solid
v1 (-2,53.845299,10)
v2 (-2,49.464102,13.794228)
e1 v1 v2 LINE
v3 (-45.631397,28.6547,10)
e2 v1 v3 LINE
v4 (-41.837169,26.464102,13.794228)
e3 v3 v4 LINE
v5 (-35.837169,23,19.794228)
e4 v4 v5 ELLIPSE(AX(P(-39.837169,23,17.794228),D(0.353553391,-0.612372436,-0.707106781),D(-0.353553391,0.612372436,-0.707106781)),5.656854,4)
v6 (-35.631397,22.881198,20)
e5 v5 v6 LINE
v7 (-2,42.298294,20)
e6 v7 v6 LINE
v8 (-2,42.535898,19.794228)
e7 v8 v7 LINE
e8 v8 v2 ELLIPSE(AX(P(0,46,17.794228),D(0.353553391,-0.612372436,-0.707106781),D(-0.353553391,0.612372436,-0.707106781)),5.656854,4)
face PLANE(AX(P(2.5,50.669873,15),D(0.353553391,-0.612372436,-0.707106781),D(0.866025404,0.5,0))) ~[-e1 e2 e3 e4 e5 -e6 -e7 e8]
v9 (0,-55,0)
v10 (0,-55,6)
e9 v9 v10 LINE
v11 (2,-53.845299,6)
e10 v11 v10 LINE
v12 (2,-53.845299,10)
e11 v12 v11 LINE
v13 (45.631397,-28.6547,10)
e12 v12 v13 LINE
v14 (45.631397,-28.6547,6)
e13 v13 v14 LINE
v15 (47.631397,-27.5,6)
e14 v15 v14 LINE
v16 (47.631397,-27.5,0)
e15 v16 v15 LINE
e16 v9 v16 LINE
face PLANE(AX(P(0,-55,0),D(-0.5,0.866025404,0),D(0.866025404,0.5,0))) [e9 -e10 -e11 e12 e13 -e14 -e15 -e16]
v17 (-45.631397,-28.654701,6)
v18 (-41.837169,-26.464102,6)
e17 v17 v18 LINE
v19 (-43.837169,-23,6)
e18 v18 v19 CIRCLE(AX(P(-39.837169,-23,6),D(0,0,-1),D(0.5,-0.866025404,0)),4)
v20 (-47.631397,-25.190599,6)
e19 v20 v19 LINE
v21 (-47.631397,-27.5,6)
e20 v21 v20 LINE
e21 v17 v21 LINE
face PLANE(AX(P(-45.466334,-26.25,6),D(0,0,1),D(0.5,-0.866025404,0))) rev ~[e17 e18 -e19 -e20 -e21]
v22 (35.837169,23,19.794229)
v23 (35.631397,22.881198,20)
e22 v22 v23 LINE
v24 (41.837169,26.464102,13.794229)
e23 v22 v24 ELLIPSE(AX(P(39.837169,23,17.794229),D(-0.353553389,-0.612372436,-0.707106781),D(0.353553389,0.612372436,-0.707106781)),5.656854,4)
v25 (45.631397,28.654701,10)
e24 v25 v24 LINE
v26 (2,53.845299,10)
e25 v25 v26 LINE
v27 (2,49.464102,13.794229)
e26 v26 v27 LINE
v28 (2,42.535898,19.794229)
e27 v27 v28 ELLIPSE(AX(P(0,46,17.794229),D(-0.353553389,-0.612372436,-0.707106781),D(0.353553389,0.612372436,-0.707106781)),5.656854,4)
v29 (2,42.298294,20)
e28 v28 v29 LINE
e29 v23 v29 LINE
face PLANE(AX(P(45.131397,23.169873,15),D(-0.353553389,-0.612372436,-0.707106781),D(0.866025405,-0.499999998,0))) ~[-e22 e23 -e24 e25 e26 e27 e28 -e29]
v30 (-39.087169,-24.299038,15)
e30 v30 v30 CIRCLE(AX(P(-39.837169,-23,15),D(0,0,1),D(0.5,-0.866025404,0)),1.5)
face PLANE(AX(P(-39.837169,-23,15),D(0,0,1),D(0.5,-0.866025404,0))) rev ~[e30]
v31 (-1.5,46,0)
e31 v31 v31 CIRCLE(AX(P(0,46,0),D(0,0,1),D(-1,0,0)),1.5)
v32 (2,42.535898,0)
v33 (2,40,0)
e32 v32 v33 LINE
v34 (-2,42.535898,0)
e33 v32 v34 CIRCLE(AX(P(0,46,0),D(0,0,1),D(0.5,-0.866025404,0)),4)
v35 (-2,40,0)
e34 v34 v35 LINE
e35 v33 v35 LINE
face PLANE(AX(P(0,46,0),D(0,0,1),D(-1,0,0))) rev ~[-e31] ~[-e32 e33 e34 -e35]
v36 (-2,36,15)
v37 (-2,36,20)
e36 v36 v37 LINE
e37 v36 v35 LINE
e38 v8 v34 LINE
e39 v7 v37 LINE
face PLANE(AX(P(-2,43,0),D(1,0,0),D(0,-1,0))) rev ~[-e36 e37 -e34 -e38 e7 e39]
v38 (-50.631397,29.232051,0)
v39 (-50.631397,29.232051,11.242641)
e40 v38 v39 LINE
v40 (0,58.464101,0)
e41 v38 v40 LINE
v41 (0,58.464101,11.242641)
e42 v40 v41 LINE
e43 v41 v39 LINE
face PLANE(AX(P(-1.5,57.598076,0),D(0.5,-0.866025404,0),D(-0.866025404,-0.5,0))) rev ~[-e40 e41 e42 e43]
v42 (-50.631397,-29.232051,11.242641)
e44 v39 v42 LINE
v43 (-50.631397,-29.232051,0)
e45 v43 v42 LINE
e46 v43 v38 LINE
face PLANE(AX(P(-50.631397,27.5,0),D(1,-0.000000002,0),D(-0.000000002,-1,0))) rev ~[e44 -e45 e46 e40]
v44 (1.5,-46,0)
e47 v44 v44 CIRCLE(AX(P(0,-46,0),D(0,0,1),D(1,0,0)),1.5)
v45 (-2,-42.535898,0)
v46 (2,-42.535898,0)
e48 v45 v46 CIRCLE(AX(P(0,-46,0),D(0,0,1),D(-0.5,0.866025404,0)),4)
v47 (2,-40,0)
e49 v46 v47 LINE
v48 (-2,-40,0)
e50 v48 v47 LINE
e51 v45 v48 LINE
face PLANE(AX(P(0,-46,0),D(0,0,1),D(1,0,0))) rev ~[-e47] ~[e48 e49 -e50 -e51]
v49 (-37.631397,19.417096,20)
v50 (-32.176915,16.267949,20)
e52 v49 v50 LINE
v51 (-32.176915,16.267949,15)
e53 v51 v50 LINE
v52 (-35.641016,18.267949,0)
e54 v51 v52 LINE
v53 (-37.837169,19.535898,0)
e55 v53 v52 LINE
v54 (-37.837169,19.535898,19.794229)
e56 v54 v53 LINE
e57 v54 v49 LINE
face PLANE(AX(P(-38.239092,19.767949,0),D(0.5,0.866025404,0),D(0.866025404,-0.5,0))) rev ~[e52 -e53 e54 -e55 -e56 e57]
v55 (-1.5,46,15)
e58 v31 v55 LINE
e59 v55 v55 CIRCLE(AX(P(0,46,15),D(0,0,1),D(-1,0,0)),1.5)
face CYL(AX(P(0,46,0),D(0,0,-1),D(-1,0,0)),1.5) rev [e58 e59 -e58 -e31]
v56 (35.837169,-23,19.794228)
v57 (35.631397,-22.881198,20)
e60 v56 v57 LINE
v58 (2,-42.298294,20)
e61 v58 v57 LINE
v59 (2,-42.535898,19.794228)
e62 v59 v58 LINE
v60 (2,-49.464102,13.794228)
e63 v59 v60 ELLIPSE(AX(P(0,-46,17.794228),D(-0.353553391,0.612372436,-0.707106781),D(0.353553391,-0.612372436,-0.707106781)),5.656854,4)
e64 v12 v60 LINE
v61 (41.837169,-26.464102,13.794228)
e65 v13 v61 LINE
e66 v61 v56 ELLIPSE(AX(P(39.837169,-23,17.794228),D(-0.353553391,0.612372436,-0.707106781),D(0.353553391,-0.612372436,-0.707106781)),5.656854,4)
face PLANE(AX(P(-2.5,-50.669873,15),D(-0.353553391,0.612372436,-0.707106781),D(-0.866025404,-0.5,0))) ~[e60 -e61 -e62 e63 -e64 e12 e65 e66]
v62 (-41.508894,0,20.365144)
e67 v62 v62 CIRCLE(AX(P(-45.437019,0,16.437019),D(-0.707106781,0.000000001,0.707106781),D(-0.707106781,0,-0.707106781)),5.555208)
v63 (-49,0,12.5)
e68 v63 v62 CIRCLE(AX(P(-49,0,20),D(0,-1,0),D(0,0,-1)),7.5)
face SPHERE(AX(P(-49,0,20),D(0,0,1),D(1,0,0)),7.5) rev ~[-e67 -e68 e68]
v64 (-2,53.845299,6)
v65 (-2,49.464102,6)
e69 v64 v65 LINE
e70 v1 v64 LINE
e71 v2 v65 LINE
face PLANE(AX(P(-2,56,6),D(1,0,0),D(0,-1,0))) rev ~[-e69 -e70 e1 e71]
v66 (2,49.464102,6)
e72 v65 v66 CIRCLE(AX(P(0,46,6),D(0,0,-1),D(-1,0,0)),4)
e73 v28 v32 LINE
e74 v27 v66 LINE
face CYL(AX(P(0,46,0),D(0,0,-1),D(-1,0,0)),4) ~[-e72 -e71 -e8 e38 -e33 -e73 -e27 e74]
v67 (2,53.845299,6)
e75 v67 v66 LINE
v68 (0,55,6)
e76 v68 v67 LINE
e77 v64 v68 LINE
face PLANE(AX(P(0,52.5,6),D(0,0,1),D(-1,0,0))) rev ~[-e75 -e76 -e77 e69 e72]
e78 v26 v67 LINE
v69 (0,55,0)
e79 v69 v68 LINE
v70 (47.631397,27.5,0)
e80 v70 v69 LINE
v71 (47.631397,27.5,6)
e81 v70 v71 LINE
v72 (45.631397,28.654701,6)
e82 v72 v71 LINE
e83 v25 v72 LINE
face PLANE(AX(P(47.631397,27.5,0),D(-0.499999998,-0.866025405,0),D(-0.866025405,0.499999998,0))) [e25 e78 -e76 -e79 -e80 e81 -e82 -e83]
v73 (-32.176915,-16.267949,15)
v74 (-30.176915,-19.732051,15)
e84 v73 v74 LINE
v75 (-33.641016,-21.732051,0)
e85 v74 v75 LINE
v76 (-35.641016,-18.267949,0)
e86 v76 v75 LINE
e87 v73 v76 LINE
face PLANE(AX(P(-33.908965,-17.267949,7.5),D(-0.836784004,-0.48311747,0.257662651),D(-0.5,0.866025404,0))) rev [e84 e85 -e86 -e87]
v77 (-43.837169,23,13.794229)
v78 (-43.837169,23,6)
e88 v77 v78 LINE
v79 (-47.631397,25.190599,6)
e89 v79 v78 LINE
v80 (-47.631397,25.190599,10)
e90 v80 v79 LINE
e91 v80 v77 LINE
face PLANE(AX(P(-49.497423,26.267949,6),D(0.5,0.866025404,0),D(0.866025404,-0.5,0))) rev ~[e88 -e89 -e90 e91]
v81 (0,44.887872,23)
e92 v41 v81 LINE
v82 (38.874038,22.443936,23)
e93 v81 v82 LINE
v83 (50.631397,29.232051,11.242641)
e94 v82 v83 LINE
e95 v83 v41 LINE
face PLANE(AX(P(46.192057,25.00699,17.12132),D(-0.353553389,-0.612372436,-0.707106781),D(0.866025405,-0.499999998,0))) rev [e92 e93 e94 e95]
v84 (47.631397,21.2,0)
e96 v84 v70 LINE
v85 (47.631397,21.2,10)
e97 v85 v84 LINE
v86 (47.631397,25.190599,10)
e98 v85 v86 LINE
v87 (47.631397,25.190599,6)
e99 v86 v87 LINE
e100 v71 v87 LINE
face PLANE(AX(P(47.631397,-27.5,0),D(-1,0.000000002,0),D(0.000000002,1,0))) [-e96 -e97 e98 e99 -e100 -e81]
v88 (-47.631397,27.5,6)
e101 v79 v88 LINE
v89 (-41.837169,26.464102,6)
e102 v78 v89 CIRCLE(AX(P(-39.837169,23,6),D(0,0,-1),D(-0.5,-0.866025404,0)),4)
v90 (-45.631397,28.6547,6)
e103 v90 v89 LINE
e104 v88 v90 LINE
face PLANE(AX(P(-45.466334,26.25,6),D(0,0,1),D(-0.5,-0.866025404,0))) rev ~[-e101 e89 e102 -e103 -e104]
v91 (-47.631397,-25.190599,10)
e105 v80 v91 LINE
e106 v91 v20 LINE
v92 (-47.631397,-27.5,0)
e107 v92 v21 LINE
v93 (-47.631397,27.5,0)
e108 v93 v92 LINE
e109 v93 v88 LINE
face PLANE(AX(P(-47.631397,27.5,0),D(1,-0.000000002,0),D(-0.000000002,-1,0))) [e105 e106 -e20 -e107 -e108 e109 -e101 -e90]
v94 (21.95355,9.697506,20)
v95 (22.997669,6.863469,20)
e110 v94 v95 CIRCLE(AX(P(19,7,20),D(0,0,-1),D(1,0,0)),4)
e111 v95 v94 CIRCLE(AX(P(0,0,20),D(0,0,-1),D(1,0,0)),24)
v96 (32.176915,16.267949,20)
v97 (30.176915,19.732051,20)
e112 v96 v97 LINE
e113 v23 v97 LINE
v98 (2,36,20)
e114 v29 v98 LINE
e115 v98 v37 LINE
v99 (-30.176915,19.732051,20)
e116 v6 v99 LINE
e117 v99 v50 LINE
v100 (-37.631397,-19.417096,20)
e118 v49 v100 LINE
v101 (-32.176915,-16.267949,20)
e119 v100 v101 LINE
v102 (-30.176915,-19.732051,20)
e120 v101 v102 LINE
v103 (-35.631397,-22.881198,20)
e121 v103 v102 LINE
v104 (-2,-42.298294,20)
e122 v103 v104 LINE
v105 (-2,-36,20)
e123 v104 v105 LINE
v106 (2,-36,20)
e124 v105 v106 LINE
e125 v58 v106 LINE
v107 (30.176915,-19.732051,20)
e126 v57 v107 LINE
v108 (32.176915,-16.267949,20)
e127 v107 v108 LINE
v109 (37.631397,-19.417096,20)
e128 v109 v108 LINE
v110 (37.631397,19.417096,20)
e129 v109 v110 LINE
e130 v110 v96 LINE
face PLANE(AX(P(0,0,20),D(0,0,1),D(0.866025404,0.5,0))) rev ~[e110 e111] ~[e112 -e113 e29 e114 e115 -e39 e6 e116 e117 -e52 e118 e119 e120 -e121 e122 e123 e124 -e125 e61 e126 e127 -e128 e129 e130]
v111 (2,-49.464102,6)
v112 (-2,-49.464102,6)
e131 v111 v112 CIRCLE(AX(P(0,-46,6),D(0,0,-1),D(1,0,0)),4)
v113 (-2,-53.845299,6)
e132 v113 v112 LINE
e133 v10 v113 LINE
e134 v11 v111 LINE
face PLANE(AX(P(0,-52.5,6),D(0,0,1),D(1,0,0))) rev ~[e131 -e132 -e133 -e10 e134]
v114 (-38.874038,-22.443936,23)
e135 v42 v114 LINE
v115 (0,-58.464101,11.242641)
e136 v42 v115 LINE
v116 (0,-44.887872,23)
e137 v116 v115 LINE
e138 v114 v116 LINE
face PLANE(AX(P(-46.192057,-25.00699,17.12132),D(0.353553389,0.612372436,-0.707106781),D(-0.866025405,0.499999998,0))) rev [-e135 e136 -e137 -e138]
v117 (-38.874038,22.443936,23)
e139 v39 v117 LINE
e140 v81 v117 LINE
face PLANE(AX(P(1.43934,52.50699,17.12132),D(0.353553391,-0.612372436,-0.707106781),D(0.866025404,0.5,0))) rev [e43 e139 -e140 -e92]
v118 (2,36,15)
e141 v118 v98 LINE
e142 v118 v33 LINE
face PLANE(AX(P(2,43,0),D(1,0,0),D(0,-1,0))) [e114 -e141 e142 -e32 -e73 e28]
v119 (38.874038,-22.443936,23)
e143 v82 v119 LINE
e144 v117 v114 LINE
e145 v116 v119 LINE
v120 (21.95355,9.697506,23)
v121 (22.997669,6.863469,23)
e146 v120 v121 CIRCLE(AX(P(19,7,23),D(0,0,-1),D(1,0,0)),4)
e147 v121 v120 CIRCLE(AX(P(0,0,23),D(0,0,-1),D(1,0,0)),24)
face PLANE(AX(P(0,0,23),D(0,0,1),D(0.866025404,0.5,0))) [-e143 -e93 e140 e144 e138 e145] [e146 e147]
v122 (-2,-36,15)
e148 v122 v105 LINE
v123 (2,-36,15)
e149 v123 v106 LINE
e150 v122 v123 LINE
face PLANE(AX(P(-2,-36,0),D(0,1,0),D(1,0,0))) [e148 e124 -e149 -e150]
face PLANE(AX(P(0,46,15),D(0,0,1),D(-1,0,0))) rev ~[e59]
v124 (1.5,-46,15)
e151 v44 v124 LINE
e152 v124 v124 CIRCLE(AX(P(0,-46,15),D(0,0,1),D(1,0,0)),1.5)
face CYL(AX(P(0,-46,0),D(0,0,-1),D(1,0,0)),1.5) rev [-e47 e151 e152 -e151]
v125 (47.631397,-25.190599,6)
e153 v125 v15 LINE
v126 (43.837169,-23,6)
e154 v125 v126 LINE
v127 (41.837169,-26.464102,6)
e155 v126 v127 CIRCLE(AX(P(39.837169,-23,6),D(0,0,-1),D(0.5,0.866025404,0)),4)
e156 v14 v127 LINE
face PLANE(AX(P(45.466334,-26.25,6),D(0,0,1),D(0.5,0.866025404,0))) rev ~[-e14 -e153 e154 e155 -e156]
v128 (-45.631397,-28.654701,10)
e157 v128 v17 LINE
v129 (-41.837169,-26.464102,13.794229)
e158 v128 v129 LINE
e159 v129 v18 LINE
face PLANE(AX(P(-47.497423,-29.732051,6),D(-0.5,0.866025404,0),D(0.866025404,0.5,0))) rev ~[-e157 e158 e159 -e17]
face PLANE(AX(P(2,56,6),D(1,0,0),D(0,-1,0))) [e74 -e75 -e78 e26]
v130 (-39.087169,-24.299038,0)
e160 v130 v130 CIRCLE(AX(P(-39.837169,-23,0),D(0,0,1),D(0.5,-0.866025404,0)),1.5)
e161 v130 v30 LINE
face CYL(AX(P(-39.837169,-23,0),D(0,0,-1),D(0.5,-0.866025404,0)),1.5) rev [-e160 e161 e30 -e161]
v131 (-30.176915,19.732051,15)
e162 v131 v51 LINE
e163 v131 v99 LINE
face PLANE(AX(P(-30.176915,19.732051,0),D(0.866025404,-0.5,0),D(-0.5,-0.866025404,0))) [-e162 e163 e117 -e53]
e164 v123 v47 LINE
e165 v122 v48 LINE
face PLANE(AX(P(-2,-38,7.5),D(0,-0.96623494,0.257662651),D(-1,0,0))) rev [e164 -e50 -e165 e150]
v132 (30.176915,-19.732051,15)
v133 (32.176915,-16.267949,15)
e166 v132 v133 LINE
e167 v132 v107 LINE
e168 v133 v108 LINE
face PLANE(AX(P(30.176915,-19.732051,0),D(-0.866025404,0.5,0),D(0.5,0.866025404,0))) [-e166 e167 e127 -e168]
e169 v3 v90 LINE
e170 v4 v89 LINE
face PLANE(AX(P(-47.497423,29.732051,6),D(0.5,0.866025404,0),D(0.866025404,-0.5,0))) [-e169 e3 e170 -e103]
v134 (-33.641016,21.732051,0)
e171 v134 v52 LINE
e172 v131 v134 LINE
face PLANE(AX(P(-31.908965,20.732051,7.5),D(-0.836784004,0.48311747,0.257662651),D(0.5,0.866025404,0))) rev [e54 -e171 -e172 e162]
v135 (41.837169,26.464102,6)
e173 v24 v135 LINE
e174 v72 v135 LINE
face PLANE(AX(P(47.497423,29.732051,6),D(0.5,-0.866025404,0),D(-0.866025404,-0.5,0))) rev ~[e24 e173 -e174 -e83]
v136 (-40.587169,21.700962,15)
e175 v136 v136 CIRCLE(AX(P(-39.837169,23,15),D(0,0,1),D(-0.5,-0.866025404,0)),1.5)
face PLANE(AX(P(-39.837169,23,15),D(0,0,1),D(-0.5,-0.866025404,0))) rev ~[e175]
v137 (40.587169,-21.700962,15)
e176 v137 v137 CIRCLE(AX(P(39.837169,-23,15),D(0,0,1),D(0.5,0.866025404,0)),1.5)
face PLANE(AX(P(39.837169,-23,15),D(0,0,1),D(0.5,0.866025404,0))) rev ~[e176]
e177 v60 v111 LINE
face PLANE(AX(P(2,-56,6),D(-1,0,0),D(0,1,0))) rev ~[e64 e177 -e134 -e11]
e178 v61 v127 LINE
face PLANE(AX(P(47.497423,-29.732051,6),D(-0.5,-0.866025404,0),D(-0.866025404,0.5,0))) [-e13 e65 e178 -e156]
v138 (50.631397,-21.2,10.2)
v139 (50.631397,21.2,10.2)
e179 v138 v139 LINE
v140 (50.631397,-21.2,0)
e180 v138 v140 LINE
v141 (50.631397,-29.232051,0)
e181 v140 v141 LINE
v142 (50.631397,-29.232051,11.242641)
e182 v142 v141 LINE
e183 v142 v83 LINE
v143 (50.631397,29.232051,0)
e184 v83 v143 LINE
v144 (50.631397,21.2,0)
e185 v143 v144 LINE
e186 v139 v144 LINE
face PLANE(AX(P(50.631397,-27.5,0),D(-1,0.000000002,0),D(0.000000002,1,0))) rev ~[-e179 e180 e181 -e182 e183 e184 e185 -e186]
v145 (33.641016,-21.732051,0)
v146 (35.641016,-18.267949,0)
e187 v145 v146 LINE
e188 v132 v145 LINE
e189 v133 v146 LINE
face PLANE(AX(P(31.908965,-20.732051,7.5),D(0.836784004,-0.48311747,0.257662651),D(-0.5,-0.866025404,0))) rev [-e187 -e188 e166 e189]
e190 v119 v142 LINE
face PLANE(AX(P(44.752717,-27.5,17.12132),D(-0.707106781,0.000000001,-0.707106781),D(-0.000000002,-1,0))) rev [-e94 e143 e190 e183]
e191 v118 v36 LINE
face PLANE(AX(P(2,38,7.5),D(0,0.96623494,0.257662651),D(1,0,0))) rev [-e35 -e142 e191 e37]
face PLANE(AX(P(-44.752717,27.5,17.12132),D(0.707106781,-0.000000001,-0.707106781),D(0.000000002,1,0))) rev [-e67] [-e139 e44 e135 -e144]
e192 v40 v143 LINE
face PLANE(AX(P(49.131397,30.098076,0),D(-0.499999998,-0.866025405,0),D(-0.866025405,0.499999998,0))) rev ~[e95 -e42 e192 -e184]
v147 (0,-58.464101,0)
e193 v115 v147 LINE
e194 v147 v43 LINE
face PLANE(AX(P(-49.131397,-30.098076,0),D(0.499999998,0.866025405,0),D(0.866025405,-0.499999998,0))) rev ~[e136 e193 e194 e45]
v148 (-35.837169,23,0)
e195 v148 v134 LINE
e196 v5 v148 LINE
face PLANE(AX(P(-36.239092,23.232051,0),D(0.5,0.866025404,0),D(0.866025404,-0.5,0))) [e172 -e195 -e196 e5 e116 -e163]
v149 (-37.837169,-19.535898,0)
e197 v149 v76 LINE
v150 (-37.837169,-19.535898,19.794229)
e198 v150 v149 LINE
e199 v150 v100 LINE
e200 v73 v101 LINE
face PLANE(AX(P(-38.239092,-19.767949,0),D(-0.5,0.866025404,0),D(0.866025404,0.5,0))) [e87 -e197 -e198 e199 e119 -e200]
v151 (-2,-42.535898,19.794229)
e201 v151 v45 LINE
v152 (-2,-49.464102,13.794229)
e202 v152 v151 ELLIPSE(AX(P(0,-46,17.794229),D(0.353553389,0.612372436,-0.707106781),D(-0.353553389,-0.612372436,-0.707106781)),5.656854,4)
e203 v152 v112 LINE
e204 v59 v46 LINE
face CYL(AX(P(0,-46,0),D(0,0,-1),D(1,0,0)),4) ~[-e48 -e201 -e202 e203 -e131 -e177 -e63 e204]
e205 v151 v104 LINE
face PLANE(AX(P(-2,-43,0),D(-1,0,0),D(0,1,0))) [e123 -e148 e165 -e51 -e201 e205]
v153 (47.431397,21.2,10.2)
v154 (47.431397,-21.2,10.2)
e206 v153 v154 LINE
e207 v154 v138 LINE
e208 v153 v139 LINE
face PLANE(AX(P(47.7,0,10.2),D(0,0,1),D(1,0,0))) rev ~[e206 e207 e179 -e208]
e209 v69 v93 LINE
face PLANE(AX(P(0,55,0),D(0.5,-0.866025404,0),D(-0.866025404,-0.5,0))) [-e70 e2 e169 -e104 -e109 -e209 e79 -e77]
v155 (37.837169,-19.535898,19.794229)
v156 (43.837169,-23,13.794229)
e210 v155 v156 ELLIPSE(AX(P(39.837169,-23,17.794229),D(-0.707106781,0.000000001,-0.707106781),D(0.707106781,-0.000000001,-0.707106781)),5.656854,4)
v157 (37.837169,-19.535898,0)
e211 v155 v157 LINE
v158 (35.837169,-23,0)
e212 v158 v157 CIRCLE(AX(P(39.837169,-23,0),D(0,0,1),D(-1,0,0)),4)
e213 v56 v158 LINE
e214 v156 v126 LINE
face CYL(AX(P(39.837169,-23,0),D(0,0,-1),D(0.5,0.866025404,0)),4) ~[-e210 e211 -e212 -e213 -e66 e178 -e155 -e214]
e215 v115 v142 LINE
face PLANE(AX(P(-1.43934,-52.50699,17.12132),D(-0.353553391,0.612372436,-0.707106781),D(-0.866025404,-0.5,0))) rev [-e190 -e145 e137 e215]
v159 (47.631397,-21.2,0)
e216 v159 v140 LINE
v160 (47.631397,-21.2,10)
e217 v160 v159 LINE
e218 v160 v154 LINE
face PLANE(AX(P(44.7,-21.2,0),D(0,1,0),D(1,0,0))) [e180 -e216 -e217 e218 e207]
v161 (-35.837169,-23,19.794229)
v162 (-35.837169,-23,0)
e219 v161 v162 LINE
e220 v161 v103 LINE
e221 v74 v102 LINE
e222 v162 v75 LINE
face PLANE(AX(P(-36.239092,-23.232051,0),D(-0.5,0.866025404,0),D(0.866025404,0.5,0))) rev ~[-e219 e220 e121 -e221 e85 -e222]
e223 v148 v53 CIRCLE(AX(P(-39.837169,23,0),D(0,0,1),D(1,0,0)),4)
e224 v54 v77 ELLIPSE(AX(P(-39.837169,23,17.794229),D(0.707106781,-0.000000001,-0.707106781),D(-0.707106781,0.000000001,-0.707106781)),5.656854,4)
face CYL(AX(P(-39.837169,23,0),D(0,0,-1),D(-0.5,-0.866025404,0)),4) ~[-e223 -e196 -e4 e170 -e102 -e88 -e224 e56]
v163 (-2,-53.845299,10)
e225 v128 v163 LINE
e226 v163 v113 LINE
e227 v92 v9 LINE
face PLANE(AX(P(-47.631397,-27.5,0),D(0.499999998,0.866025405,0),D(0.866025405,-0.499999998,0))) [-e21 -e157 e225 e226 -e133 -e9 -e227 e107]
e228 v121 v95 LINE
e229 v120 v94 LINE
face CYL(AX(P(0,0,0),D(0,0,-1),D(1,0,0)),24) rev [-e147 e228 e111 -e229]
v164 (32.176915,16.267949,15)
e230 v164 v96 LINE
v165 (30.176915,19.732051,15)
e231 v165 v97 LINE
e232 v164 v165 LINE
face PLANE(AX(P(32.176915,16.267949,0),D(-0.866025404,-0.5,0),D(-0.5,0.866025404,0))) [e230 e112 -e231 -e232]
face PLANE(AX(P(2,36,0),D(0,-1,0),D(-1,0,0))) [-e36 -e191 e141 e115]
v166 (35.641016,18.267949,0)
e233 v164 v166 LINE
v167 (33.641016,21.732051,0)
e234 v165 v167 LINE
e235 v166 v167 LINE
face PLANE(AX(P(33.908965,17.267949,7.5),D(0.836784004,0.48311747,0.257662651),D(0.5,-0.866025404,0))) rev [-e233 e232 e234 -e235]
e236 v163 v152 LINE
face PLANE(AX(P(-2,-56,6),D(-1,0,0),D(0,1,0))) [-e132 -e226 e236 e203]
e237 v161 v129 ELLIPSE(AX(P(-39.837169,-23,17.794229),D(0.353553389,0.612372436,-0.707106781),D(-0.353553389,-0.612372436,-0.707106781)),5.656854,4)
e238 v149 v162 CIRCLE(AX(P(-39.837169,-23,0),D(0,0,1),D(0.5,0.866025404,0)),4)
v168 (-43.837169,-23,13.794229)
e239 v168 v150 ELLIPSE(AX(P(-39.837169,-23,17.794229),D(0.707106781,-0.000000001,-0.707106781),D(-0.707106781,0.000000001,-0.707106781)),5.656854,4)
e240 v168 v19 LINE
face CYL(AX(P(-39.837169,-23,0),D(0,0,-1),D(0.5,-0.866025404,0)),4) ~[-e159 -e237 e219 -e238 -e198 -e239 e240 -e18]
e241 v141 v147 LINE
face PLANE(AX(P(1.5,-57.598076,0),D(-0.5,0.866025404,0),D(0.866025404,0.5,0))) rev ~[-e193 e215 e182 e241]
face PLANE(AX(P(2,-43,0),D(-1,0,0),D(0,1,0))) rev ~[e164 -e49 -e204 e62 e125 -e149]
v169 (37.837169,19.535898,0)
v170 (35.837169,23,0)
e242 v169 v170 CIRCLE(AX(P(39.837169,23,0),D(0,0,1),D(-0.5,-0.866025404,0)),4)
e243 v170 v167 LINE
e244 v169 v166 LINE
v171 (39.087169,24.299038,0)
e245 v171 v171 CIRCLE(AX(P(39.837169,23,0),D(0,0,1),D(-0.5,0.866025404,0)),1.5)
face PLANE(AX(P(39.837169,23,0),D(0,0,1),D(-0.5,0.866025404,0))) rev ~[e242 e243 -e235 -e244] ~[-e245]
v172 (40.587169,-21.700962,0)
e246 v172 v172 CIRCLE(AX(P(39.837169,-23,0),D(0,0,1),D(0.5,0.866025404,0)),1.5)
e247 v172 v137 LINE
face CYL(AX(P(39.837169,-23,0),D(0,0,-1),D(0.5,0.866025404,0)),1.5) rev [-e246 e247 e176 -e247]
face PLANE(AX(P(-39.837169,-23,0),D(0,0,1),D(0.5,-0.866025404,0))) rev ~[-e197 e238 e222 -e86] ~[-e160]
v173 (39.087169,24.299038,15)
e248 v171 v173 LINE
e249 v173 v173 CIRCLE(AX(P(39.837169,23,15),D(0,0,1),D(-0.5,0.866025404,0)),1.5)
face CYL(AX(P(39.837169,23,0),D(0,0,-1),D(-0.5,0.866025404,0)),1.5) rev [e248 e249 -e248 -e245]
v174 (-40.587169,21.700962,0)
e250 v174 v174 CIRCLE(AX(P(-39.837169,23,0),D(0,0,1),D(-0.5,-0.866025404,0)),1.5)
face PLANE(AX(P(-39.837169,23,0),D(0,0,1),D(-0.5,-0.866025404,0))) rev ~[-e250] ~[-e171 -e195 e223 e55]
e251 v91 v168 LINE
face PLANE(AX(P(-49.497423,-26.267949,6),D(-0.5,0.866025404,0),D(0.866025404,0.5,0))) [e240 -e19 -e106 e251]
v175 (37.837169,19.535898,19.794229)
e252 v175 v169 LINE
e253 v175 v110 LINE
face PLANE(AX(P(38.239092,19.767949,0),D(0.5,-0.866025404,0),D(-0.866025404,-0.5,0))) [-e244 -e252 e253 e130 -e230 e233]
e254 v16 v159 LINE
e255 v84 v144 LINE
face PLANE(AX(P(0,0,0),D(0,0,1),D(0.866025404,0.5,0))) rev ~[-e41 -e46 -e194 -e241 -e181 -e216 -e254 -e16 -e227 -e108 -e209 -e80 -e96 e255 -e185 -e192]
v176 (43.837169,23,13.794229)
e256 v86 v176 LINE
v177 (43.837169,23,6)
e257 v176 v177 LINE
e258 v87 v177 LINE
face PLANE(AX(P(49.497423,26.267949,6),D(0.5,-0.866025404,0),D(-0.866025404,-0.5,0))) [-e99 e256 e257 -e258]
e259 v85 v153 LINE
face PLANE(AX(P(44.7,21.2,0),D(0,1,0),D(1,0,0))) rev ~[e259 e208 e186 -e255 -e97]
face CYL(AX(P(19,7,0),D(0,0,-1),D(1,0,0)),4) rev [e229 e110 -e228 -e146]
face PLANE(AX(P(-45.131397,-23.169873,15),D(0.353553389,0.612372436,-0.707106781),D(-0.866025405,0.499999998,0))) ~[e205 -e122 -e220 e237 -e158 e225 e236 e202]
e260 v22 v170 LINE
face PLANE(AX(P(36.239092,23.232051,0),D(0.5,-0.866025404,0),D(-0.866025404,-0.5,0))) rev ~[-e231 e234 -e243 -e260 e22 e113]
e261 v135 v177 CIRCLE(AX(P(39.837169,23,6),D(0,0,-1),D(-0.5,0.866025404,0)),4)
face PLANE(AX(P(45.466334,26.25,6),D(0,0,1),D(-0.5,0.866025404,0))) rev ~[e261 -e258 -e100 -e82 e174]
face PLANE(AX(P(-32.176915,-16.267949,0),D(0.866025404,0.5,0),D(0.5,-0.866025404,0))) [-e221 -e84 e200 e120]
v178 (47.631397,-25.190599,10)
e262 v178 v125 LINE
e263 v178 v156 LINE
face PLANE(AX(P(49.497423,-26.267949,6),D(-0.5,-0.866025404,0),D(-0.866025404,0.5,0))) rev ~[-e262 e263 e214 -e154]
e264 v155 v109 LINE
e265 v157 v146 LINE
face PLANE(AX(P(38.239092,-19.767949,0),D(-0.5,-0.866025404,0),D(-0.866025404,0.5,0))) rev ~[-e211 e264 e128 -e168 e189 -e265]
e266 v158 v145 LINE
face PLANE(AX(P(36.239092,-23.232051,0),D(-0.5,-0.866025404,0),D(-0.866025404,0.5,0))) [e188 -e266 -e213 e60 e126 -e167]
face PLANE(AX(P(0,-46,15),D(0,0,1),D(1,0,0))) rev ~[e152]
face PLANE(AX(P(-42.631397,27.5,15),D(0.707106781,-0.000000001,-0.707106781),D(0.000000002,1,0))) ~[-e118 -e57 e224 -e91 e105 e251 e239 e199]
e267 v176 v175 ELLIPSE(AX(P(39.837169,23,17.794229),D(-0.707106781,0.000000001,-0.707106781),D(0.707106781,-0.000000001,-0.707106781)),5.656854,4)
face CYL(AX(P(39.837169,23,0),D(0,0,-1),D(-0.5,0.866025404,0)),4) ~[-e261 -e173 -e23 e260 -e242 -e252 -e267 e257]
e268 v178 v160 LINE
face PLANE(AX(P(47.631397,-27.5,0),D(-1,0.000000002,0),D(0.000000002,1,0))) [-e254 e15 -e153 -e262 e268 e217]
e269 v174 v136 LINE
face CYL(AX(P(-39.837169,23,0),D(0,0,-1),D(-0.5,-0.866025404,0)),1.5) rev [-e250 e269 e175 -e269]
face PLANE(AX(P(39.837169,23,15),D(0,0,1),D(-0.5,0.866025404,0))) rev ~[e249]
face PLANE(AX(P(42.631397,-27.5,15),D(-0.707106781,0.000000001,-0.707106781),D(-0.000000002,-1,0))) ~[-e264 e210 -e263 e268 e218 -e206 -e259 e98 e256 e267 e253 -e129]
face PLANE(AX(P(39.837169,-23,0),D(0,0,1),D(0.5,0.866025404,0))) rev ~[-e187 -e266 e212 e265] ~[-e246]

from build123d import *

# Parameters (mm, degrees)
BOX038_W                 = 6
BOX038_H                 = 42.4
BOX038_DEPTH             = 10.2
CYLINDER053_R            = 2
CYLINDER053_DEPTH        = 42
CYLINDER053_ROLL_ANGLE   = 90
PAD007_DEPTH             = 37
BODY008_PITCH_ANGLE      = -45
CYLINDER051_R            = 4
CYLINDER051_DEPTH        = 44
CYLINDER052_R            = 24
CYLINDER052_DEPTH        = 44
PAD006_DEPTH             = 5.62
PRISM012_DEPTH           = 20
PRISM012_PLACEMENT_ANGLE = 30
CHAMFER008_SIZE          = 10
THICKNESS001_T           = 3
CYLINDER055_R            = 1.5
CYLINDER055_DEPTH        = 15
BOX040_W                 = 4
BOX040_H                 = 7
BOX040_DEPTH             = 22
CHAMFER009_SIZE2         = 4
CHAMFER009_SIZE          = 15
BOX039_W                 = 12
BOX039_H                 = 10
BOX039_DEPTH             = 14
BOX039_ROLL_ANGLE        = -45
CYLINDER054_R            = 4
CYLINDER054_DEPTH        = 21
BOX041_W                 = 4
BOX041_H                 = 7
BOX041_DEPTH             = 10
CHAMFER010_SIZE          = 5
ARRAY003_COUNT           = 6


with BuildPart() as esfera:
    # Sphere → Sphere (revolve)
    with BuildSketch(Plane(origin=(-49, 0, 20), x_dir=(1, 0, 0), z_dir=(0, -1, 0))):
        with BuildLine():
            ThreePointArc((0, -7.5), (7.5, 0), (0, 7.5))
            Line((0, 7.5), (0, -7.5))
        make_face()
    revolve(axis=Axis((-49, 0, 20), (0, 0, 1)))


with BuildPart() as cubo034:
    # Box038 → Box038 (new body)
    with BuildSketch(Plane(origin=(44.7, -21.2, 0), x_dir=(1, 0, 0), z_dir=(0, 0, 1))):
        with Locations((3, 21.2)):
            Rectangle(BOX038_W, BOX038_H)
    extrude(amount=BOX038_DEPTH)


with BuildPart() as cylinder053:
    # Cylinder053 → Cylinder053 (new body)
    with BuildSketch(Plane.XY):
        Circle(CYLINDER053_R)
    extrude(amount=CYLINDER053_DEPTH)


with BuildPart() as cylinder053_1:
    # Cylinder053 roll: moved
    add(cylinder053.part.rotate(Axis((0, 0, 0), (1, 0, 0)), CYLINDER053_ROLL_ANGLE))


with BuildPart() as cylinder053_2:
    # Cylinder053 placement: moved
    add(cylinder053_1.part.moved(Location((-39, 21, 33))))


with BuildPart() as body008:
    # Sketch008 → Pad007 (new body)
    with BuildSketch(Plane.XY):
        Polygon((-40.876069, 10), (-49.536323, 5), (-49.536323, -5), (-40.876069, -10), (-32.215815, -5), (-32.215815, 5), align=None)
    extrude(amount=PAD007_DEPTH)


with BuildPart() as body008_1:
    # Body008 pitch: moved
    add(body008.part.rotate(Axis((0, 0, 0), (0, 1, 0)), BODY008_PITCH_ANGLE))


with BuildPart() as body008_2:
    # Body008 placement: moved
    add(body008_1.part.moved(Location((0, 0, 103))))


with BuildPart() as agujero_led_builtin001:
    # Cylinder051 → Cylinder051 (new body)
    with BuildSketch(Plane(origin=(19, 7, 0), x_dir=(1, 0, 0), z_dir=(0, 0, 1))):
        Circle(CYLINDER051_R)
    extrude(amount=CYLINDER051_DEPTH)


with BuildPart() as fusion019:
    # Cylinder052 → Cylinder052 (new body)
    with BuildSketch(Plane.XY):
        Circle(CYLINDER052_R)
    extrude(amount=CYLINDER052_DEPTH)

    # Fusion019: union agujero led builtin001
    add(agujero_led_builtin001.part)


with BuildPart() as agujero_microusb002:
    # Sketch007 → Pad006 (new body)
    with BuildSketch(Plane.YZ):
        Polygon((-3, 0.536587), (3, 0.536587), (4.5, -3.263413), (-4.5, -3.263413), align=None)
    extrude(amount=PAD006_DEPTH)


with BuildPart() as agujero_microusb002_1:
    # Body007 placement: moved
    add(agujero_microusb002.part.moved(Location((45.85, 0, 5))))


with BuildPart() as superior001:
    # Prism012 → Prism012 (new body)
    with BuildSketch(Plane.XY):
        Polygon((55, 0), (27.5, 47.631397), (-27.5, 47.631397), (-55, 0), (-27.5, -47.631397), (27.5, -47.631397), align=None)
    extrude(amount=PRISM012_DEPTH)


with BuildPart() as superior001_1:
    # Prism012 placement: moved
    add(superior001.part.rotate(Axis((0, 0, 0), (0, 0, 1)), PRISM012_PLACEMENT_ANGLE))

    # Chamfer008
    chamfer008_edges = [superior001_1.edges().sort_by_distance(p)[0] for p in [
        (23.815699, 41.25, 20),
        (-23.815699, 41.25, 20),
        (-47.631397, 0, 20),
        (-23.815699, -41.25, 20),
        (23.815699, -41.25, 20),
        (47.631397, 0, 20),
    ]]
    chamfer(chamfer008_edges, length=CHAMFER008_SIZE)

    # Thickness001
    thickness001_openings = [superior001_1.faces().sort_by_distance(p)[0] for p in [
        (0, 0, 0),
    ]]
    offset(amount=THICKNESS001_T, openings=thickness001_openings, kind=Kind.INTERSECTION)

    # Cut022: cut agujero microusb002
    add(agujero_microusb002_1.part, mode=Mode.SUBTRACT)

    # Cut023: cut Fusion019
    add(fusion019.part, mode=Mode.SUBTRACT)

    # Cut024: cut Body008
    add(body008_2.part, mode=Mode.SUBTRACT)

    # Cut025: cut Cylinder053
    add(cylinder053_2.part, mode=Mode.SUBTRACT)

    # Cut026: cut Cubo034
    add(cubo034.part, mode=Mode.SUBTRACT)


with BuildPart() as cilindro028:
    # Cylinder055 → Cylinder055 (new body)
    with BuildSketch(Plane(origin=(0, -46, 0), x_dir=(1, 0, 0), z_dir=(0, 0, 1))):
        Circle(CYLINDER055_R)
    extrude(amount=CYLINDER055_DEPTH)


with BuildPart() as chamfer009:
    # Box040 → Box040 (new body)
    with BuildSketch(Plane(origin=(-2, -43, 0), x_dir=(1, 0, 0), z_dir=(0, 0, 1))):
        with Locations((2, 3.5)):
            Rectangle(BOX040_W, BOX040_H)
    extrude(amount=BOX040_DEPTH)

    # Chamfer009
    chamfer009_edges = [chamfer009.edges().sort_by_distance(p)[0] for p in [
        (0, -36, 0),
    ]]
    chamfer009_side = chamfer009.faces().sort_by_distance((0, -36, 11))[0]
    chamfer(chamfer009_edges, length=CHAMFER009_SIZE, length2=CHAMFER009_SIZE2, reference=chamfer009_side)


with BuildPart() as cubo035:
    # Box039 → Box039 (new body)
    with BuildSketch(Plane.XY):
        with Locations((6, 5)):
            Rectangle(BOX039_W, BOX039_H)
    extrude(amount=BOX039_DEPTH)


with BuildPart() as cubo035_1:
    # Box039 roll: moved
    add(cubo035.part.rotate(Axis((0, 0, 0), (1, 0, 0)), BOX039_ROLL_ANGLE))


with BuildPart() as cubo035_2:
    # Box039 placement: moved
    add(cubo035_1.part.moved(Location((-7, -59, 20))))


with BuildPart() as cut027:
    # Cylinder054 → Cylinder054 (new body)
    with BuildSketch(Plane(origin=(0, -46, 0), x_dir=(1, 0, 0), z_dir=(0, 0, 1))):
        Circle(CYLINDER054_R)
    extrude(amount=CYLINDER054_DEPTH)

    # Cut027: cut Cubo035
    add(cubo035_2.part, mode=Mode.SUBTRACT)


with BuildPart() as superior_final:
    # Box041 → Box041 (new body)
    with BuildSketch(Plane(origin=(-2, -56, 6), x_dir=(1, 0, 0), z_dir=(0, 0, 1))):
        with Locations((2, 3.5)):
            Rectangle(BOX041_W, BOX041_H)
    extrude(amount=BOX041_DEPTH)

    # Chamfer010
    chamfer010_edges = [superior_final.edges().sort_by_distance(p)[0] for p in [
        (0, -56, 16),
    ]]
    chamfer(chamfer010_edges, length=CHAMFER010_SIZE)

    # Fusion020: union Chamfer009, Cut027
    add(chamfer009.part)
    add(cut027.part)

    # Cut028: cut Cilindro028
    add(cilindro028.part, mode=Mode.SUBTRACT)

    # Array003: superior final ×6 about axis
    array003_axis = Axis((0, 0, 0), (0, 0, 1))


with BuildPart() as superior_final_1:
    add(superior_final.part)
    for i in range(1, ARRAY003_COUNT):
        add(superior_final.part.rotate(array003_axis, i * 360 / ARRAY003_COUNT))

    # Fusion021: union superior001
    add(superior001_1.part)

    # Cut029: cut Esfera
    add(esfera.part, mode=Mode.SUBTRACT)


solid = superior_final_1.part
